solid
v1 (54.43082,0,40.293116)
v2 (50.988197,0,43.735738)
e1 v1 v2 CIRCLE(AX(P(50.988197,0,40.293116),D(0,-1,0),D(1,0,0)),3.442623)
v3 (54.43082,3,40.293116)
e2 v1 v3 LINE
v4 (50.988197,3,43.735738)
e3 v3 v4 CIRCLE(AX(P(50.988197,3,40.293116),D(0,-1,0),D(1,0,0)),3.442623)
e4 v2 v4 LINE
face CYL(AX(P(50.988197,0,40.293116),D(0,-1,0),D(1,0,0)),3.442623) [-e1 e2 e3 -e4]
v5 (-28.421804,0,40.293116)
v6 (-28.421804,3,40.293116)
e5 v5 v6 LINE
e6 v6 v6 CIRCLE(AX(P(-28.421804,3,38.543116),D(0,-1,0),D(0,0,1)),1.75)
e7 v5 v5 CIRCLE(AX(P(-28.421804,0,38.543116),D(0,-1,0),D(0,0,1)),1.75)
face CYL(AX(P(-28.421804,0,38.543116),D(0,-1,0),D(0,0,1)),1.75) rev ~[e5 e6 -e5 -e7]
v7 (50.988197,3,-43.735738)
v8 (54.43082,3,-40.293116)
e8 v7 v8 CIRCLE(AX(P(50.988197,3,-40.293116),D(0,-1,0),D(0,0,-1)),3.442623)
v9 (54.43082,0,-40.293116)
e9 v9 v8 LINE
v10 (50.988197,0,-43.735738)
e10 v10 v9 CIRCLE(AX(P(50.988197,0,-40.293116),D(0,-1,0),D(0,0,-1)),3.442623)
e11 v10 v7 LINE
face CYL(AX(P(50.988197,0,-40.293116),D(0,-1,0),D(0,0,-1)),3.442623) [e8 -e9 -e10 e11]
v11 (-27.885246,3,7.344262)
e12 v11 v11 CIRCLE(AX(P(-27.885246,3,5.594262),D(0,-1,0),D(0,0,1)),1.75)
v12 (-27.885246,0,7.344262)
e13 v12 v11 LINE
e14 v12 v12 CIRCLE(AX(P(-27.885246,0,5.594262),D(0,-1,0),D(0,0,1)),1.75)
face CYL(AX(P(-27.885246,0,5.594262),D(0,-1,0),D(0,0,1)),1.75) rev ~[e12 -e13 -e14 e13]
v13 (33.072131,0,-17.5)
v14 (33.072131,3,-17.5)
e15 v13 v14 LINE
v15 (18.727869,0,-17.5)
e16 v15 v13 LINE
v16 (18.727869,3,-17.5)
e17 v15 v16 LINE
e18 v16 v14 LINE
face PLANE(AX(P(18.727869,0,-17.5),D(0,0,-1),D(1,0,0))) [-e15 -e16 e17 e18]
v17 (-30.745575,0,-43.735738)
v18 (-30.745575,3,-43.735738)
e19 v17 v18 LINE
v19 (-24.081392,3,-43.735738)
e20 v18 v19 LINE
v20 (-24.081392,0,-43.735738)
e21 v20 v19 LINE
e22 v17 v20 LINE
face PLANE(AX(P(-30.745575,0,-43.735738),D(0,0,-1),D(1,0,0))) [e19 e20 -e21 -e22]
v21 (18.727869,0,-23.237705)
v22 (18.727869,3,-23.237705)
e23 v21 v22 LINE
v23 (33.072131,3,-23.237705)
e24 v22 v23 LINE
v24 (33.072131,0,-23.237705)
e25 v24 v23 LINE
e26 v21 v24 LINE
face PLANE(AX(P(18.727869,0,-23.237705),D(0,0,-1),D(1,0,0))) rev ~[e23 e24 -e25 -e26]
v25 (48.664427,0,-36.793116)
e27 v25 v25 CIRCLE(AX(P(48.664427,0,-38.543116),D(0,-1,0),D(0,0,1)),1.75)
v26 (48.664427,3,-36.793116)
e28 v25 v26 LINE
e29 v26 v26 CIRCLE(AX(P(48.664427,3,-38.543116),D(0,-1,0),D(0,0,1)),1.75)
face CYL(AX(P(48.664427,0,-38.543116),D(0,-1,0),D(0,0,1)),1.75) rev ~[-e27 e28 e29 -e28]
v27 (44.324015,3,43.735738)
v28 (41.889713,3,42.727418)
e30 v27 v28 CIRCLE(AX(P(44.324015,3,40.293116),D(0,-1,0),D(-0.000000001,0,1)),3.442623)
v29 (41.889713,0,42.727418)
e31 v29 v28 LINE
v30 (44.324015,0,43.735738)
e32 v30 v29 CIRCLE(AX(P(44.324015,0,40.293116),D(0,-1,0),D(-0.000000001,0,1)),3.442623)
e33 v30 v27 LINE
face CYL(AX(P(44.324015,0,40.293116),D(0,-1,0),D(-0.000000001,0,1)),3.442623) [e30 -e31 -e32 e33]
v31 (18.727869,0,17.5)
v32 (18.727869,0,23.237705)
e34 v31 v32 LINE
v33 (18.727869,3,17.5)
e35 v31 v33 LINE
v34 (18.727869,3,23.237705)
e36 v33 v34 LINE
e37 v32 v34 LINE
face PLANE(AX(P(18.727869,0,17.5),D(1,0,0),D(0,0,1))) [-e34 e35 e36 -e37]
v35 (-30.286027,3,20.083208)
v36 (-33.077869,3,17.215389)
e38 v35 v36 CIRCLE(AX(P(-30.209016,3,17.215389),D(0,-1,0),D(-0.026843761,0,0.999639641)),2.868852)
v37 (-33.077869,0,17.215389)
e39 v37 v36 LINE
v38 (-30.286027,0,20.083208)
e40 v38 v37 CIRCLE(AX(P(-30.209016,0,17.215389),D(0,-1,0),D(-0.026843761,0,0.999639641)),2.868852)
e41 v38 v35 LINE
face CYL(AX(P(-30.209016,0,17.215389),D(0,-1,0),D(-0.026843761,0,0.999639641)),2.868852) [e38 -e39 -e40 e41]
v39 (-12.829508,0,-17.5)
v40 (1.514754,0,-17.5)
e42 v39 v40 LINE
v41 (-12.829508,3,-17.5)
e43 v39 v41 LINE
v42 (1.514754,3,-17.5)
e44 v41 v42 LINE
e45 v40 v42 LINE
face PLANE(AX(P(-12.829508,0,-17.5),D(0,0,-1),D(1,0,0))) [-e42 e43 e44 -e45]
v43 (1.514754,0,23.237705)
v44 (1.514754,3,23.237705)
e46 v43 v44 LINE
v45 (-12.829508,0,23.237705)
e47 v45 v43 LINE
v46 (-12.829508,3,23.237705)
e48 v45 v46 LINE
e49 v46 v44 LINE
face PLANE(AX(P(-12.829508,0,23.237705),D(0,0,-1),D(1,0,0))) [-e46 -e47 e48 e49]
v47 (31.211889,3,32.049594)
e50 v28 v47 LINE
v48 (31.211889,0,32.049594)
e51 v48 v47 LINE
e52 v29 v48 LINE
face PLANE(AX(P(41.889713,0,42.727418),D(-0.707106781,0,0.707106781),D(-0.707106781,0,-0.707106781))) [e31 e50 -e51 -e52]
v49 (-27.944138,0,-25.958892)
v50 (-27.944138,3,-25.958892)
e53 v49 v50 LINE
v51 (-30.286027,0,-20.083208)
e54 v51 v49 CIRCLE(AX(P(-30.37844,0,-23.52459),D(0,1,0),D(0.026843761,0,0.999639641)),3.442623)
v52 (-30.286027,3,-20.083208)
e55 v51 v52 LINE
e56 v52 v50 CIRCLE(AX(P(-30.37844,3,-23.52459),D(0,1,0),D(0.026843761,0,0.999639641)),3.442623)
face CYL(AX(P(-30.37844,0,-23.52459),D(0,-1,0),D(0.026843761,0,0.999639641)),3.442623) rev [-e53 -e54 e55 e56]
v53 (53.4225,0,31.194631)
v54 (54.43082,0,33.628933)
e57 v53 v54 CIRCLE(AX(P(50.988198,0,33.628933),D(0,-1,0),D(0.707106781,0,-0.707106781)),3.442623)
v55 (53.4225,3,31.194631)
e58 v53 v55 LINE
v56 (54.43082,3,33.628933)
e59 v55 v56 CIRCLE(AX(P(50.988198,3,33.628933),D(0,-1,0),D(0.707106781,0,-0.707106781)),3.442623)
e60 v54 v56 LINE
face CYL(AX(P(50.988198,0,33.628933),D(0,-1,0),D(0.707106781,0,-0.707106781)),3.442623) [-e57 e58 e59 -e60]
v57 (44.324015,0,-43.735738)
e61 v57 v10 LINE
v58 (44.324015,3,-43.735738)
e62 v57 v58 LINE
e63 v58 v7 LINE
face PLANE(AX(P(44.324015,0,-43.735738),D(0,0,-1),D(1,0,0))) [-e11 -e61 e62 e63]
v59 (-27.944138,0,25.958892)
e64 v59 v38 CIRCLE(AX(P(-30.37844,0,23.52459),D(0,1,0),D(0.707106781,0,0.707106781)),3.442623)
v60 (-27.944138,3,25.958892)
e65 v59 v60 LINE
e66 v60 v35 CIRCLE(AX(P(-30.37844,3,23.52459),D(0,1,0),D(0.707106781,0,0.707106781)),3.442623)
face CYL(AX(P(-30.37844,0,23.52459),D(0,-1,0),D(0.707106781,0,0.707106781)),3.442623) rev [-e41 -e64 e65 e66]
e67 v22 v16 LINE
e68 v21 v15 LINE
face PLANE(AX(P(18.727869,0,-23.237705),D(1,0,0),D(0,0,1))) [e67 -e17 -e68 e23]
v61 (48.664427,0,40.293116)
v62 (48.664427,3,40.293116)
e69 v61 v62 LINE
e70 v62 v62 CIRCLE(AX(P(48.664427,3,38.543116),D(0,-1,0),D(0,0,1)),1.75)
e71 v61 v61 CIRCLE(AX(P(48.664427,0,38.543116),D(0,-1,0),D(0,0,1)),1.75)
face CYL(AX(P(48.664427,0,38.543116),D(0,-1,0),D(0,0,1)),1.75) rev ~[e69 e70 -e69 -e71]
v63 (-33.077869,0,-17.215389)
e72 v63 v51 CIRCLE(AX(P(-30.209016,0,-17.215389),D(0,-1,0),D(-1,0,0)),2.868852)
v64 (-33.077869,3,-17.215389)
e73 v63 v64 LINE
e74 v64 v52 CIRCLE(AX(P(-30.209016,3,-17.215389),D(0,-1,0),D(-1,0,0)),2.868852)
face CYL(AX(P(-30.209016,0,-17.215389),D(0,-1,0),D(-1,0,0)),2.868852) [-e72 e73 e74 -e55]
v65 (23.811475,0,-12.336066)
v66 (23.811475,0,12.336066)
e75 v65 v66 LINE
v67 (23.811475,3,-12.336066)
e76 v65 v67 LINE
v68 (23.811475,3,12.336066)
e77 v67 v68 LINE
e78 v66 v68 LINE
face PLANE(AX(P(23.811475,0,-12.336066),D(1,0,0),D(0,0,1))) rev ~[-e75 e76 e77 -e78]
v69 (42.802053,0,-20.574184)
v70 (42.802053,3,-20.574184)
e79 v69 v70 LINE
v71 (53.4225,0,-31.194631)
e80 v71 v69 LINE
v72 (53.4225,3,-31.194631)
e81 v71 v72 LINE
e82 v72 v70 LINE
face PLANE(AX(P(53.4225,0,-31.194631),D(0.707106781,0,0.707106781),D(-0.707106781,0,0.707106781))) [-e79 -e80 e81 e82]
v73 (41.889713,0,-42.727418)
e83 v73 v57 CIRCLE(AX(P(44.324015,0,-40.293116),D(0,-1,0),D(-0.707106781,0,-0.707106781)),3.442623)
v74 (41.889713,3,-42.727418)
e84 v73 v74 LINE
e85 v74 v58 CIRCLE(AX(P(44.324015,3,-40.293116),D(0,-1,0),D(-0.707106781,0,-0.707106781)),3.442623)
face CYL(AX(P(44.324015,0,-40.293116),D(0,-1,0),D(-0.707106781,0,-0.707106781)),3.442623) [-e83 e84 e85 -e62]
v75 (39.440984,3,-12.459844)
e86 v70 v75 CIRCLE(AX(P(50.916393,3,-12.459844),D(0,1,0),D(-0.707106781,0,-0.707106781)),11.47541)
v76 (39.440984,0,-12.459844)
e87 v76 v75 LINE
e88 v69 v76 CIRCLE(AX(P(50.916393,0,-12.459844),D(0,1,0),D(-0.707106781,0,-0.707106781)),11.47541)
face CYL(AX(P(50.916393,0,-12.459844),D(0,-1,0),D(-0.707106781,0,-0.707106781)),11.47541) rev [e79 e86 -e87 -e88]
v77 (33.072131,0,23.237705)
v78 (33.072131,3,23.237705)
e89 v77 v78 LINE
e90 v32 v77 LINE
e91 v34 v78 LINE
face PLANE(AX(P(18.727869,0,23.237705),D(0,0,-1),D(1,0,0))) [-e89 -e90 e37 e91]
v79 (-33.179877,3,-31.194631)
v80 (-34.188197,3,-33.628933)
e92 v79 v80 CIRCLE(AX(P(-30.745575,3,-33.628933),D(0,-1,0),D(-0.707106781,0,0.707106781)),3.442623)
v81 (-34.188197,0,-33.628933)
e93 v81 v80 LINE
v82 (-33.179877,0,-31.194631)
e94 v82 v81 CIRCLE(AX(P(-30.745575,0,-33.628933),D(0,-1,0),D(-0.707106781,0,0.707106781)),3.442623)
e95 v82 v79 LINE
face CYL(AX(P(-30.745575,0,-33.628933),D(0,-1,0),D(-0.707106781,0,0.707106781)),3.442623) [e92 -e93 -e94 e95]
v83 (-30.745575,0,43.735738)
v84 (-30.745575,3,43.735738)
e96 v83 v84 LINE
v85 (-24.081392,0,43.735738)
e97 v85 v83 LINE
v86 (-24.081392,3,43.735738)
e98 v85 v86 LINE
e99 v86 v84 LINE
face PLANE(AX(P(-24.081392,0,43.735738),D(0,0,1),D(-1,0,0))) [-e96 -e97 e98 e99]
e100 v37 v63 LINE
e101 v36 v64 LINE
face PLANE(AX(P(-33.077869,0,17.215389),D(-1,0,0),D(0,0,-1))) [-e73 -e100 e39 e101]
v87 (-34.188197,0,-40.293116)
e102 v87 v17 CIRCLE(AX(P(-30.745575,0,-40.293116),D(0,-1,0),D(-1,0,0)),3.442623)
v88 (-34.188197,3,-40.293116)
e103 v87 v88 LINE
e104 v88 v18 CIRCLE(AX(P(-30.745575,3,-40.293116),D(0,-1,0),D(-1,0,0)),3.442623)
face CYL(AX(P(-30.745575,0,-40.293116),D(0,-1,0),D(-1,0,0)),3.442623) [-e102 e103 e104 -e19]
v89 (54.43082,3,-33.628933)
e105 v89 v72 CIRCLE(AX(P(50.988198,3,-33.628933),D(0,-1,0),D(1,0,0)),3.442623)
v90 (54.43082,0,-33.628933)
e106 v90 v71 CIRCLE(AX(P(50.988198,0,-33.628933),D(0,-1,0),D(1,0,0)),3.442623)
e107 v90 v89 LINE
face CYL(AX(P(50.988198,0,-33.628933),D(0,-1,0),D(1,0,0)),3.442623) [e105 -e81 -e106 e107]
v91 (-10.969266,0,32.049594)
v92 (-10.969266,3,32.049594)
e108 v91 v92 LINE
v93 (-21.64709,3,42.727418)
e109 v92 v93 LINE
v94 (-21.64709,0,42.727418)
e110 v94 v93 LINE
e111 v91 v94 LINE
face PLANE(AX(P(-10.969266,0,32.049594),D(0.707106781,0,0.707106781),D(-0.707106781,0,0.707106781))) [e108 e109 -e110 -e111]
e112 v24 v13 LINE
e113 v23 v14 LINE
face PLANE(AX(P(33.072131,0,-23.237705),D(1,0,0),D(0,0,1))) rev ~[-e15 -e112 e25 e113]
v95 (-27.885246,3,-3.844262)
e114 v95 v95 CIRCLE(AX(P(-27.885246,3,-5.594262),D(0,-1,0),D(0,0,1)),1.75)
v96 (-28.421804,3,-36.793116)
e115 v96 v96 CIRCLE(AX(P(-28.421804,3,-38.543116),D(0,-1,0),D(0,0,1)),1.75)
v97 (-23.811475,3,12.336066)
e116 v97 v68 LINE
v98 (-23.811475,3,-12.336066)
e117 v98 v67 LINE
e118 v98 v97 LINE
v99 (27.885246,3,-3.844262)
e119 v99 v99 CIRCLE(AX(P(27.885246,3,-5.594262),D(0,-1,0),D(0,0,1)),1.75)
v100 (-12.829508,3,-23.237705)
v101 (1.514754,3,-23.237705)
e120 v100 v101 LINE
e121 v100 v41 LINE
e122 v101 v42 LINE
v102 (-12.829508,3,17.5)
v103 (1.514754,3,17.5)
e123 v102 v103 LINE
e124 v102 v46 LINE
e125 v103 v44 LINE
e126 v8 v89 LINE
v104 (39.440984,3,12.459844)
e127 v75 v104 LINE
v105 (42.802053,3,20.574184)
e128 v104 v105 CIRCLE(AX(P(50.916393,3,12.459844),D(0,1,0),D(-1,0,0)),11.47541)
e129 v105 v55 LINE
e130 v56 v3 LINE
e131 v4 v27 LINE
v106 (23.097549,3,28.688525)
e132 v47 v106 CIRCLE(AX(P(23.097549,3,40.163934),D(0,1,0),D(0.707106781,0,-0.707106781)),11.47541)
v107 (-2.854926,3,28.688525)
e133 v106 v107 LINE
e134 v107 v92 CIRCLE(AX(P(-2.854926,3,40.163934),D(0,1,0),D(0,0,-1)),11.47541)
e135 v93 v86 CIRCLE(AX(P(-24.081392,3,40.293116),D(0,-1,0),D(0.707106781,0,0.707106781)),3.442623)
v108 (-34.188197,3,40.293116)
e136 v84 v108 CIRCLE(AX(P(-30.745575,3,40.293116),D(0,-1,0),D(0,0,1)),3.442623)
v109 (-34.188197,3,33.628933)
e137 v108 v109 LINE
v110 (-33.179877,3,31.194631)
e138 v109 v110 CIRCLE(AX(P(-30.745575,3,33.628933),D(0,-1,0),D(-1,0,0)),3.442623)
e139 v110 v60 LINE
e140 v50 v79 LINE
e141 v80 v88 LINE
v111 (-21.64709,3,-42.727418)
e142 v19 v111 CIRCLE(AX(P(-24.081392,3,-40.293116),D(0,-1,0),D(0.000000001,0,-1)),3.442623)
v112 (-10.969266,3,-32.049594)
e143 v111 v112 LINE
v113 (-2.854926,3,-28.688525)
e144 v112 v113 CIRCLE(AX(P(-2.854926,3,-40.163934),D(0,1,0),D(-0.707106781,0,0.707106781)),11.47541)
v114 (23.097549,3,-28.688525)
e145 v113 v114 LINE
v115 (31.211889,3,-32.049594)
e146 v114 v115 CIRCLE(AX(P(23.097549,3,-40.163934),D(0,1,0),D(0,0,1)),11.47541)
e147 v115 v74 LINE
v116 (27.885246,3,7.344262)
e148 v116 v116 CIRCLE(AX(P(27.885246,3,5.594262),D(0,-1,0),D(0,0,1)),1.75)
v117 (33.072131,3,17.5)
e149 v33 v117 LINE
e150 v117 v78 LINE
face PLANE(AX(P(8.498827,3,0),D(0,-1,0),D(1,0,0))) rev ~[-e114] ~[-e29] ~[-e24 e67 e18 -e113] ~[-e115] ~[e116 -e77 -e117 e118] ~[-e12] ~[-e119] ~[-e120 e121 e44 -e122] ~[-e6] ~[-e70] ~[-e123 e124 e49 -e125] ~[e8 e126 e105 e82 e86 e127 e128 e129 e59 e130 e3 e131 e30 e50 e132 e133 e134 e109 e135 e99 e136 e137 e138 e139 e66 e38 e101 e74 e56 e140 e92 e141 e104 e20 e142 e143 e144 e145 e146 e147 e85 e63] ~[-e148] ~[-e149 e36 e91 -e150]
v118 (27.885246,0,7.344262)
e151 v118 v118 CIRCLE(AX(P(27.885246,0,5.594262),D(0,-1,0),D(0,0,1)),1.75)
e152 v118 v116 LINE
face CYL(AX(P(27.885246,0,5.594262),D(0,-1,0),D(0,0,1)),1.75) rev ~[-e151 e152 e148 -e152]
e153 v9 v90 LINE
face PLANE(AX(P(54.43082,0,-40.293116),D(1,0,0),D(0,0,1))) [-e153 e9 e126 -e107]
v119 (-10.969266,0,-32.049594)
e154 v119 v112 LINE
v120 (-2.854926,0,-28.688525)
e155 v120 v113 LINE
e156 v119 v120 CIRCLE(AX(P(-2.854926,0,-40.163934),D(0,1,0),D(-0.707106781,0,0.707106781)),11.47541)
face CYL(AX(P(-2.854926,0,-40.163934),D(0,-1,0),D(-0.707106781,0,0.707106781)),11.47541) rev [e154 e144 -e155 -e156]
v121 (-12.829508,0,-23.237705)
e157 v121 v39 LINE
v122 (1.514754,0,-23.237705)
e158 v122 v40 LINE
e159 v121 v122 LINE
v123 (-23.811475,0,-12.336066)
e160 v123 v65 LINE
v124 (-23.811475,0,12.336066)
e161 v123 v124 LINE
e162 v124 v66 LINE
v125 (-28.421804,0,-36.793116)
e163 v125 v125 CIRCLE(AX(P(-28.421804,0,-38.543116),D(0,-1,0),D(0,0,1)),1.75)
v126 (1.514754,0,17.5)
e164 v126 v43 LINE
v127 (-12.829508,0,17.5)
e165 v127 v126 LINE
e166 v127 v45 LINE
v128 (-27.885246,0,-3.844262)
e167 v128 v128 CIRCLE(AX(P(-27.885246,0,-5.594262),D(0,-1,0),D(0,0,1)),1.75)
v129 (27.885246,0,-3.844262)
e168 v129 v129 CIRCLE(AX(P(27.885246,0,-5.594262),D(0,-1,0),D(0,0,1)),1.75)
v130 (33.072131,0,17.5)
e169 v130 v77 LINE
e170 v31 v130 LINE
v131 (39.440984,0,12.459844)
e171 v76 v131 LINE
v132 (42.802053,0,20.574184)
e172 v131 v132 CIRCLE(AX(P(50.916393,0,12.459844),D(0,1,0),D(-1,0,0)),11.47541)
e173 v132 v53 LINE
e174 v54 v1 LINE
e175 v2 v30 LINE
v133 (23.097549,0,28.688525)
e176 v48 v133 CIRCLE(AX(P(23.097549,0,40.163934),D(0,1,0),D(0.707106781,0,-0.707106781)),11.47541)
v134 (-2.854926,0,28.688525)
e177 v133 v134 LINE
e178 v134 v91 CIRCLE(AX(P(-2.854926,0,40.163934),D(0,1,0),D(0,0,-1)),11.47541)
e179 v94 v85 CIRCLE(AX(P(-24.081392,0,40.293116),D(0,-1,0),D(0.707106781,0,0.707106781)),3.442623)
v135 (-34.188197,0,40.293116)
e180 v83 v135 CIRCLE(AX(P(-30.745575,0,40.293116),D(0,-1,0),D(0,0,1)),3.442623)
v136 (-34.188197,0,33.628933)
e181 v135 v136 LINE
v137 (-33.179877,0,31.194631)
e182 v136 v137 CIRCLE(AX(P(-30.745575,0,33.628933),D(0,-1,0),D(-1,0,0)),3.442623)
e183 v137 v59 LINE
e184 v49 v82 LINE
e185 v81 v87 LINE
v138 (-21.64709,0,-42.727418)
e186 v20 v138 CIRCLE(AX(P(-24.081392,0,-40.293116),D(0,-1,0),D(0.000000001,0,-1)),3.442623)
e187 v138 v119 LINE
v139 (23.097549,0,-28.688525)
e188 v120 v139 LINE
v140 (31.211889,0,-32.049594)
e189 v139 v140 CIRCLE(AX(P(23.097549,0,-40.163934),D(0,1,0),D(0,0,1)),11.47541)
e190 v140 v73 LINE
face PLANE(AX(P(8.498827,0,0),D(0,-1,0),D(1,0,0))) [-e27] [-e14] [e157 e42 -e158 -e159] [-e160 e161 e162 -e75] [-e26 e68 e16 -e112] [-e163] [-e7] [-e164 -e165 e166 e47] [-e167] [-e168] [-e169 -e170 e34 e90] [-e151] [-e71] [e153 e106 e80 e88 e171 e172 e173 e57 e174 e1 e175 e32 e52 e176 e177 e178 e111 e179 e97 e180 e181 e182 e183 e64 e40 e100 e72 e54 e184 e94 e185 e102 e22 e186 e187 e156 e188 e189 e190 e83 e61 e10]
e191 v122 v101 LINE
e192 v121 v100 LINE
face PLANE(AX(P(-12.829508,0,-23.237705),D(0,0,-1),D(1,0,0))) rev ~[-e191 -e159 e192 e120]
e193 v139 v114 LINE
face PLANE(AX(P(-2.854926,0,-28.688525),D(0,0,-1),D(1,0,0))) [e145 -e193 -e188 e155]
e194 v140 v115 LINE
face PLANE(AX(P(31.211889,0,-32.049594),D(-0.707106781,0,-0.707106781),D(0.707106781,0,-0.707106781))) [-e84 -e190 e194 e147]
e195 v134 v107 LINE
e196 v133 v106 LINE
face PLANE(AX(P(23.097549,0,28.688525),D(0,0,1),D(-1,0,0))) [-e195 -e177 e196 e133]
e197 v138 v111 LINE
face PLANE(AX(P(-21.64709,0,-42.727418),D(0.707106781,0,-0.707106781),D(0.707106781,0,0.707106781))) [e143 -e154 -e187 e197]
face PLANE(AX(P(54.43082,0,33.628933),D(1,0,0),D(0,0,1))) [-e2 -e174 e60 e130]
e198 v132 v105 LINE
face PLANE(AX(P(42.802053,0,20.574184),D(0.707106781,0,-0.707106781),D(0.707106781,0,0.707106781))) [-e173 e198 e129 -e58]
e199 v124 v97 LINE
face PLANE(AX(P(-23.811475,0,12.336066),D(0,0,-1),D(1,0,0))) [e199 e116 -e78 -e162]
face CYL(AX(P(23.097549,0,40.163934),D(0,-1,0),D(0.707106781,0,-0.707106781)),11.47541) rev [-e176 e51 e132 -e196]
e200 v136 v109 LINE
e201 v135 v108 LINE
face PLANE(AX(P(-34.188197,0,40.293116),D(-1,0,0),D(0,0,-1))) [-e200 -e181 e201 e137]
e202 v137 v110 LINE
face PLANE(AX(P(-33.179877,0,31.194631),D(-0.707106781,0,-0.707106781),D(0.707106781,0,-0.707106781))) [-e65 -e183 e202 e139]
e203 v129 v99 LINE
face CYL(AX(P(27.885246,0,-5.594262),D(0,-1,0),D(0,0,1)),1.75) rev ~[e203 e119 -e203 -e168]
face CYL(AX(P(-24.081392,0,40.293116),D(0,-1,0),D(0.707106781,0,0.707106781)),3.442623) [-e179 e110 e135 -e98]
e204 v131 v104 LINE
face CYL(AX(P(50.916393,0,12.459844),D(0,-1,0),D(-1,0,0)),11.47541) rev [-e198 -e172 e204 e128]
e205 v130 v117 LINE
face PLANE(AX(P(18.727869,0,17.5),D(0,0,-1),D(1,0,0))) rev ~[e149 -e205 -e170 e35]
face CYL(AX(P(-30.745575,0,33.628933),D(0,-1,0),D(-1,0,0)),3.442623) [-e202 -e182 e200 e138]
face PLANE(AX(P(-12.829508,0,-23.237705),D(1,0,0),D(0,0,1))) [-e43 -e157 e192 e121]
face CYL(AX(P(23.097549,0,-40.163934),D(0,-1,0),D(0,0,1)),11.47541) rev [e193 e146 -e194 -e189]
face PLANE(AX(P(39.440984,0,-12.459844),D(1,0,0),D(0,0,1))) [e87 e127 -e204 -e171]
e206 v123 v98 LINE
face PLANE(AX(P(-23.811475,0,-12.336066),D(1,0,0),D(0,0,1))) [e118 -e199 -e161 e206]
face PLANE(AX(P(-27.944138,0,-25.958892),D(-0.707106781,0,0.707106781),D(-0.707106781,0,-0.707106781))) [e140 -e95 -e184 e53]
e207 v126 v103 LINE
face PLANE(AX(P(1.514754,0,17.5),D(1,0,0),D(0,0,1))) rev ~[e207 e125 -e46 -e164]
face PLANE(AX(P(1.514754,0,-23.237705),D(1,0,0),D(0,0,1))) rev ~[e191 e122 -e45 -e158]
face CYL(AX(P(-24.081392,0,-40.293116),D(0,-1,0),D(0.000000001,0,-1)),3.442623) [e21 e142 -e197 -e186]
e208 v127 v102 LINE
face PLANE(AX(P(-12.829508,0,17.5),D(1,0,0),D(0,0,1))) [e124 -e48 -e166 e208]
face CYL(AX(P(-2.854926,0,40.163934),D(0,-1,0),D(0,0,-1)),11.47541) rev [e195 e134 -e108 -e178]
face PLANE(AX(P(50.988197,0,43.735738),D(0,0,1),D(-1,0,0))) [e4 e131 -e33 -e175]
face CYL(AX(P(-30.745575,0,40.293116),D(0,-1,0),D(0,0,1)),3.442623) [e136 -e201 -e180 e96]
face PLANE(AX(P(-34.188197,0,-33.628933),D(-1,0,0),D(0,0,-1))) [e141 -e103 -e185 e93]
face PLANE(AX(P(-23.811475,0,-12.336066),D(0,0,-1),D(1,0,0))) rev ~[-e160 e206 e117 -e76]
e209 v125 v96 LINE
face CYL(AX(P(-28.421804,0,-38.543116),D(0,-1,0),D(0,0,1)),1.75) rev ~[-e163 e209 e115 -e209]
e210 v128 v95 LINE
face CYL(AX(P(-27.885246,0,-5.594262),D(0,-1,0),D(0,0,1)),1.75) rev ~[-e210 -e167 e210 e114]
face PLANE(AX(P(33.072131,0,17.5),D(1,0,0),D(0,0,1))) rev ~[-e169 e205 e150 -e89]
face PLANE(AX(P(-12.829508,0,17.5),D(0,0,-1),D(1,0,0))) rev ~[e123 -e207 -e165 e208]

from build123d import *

# Parameters (mm, degrees)
SKETCH_1_R      = 1.75
SKETCH_1_W      = 14.344262296
SKETCH_1_H      = 5.737704918
SKETCH_1_W_2    = 14.344262295
SKETCH_1_W_3    = 47.62295082
SKETCH_1_H_2    = 24.672131148
EXTRUDE_1_DEPTH = 3


with BuildPart() as part:
    # 草图1 → 凸台-拉伸1 (new body)
    with BuildSketch(Plane.XZ):
        with BuildLine():
            Line((-27.944138099, -25.958892198), (-33.179876582, -31.19463068))
            ThreePointArc((-33.179876582, -31.19463068), (-33.926143431, -32.311497947), (-34.188197499, -33.628932714))
            Line((-34.188197499, -33.628932714), (-34.188197499, -40.293115532))
            ThreePointArc((-34.188197499, -40.293115532), (-33.179876582, -42.727417565), (-30.745574548, -43.735738483))
            Line((-30.745574548, -43.735738483), (-24.08139173, -43.735738483))
            ThreePointArc((-24.08139173, -43.735738483), (-22.763956963, -43.473684414), (-21.647089697, -42.727417565))
            Line((-21.647089697, -42.727417565), (-10.969266445, -32.049594314))
            ThreePointArc((-10.969266445, -32.049594314), (-7.246375557, -29.562038152), (-2.854926333, -28.68852459))
            Line((-2.854926333, -28.68852459), (23.097549284, -28.68852459))
            ThreePointArc((23.097549284, -28.68852459), (27.488998508, -29.562038152), (31.211889396, -32.049594314))
            Line((31.211889396, -32.049594314), (41.889712647, -42.727417565))
            ThreePointArc((41.889712647, -42.727417565), (43.006579914, -43.473684414), (44.324014681, -43.735738483))
            Line((44.324014681, -43.735738483), (50.988197499, -43.735738483))
            ThreePointArc((50.988197499, -43.735738483), (53.422499533, -42.727417565), (54.43082045, -40.293115532))
            Line((54.43082045, -40.293115532), (54.43082045, -33.628932714))
            ThreePointArc((54.43082045, -33.628932714), (54.168766382, -32.311497947), (53.422499533, -31.19463068))
            Line((53.422499533, -31.19463068), (42.802053331, -20.574184478))
            ThreePointArc((42.802053331, -20.574184478), (40.314497168, -16.85129359), (39.440983607, -12.459844366))
            Line((39.440983607, -12.459844366), (39.440983607, 12.459844366))
            ThreePointArc((39.440983607, 12.459844366), (40.314497168, 16.85129359), (42.802053331, 20.574184478))
            Line((42.802053331, 20.574184478), (53.422499533, 31.19463068))
            ThreePointArc((53.422499533, 31.19463068), (54.168766382, 32.311497947), (54.43082045, 33.628932714))
            Line((54.43082045, 33.628932714), (54.43082045, 40.293115532))
            ThreePointArc((54.43082045, 40.293115532), (53.422499533, 42.727417565), (50.988197499, 43.735738483))
            Line((50.988197499, 43.735738483), (44.324014681, 43.735738483))
            ThreePointArc((44.324014681, 43.735738483), (43.006579914, 43.473684414), (41.889712647, 42.727417565))
            Line((41.889712647, 42.727417565), (31.211889396, 32.049594314))
            ThreePointArc((31.211889396, 32.049594314), (27.488998508, 29.562038152), (23.097549284, 28.68852459))
            Line((23.097549284, 28.68852459), (-2.854926333, 28.68852459))
            ThreePointArc((-2.854926333, 28.68852459), (-7.246375557, 29.562038152), (-10.969266445, 32.049594314))
            Line((-10.969266445, 32.049594314), (-21.647089697, 42.727417565))
            ThreePointArc((-21.647089697, 42.727417565), (-22.763956963, 43.473684414), (-24.08139173, 43.735738483))
            Line((-24.08139173, 43.735738483), (-30.745574548, 43.735738483))
            ThreePointArc((-30.745574548, 43.735738483), (-33.179876582, 42.727417565), (-34.188197499, 40.293115532))
            Line((-34.188197499, 40.293115532), (-34.188197499, 33.628932714))
            ThreePointArc((-34.188197499, 33.628932714), (-33.926143431, 32.311497947), (-33.179876582, 31.19463068))
            Line((-33.179876582, 31.19463068), (-27.944138099, 25.958892198))
            ThreePointArc((-27.944138099, 25.958892198), (-27.180473754, 22.249967152), (-30.286027184, 20.083207792))
            ThreePointArc((-30.286027184, 20.083207792), (-32.264648538, 19.216561535), (-33.077868852, 17.215389149))
            Line((-33.077868852, 17.215389149), (-33.077868852, -17.215389149))
            ThreePointArc((-33.077868852, -17.215389149), (-32.264648538, -19.216561535), (-30.286027184, -20.083207792))
            ThreePointArc((-30.286027184, -20.083207792), (-27.180473754, -22.249967152), (-27.944138099, -25.958892198))
        make_face()
        with Locations(Location((48.664427007, 38.543115532, 0), (0, 0, 90))):
            Circle(SKETCH_1_R, mode=Mode.SUBTRACT)
        with Locations(Location((-28.421804056, -38.543115532, 0), (0, 0, 90))):
            Circle(SKETCH_1_R, mode=Mode.SUBTRACT)
        with Locations(Location((27.885245902, 5.594262295, 0), (0, 0, 90))):
            Circle(SKETCH_1_R, mode=Mode.SUBTRACT)
        with Locations(Location((-27.885245902, 5.594262295, 0), (0, 0, 90))):
            Circle(SKETCH_1_R, mode=Mode.SUBTRACT)
        with Locations(Location((-27.885245902, -5.594262295, 0), (0, 0, 90))):
            Circle(SKETCH_1_R, mode=Mode.SUBTRACT)
        with Locations(Location((27.885245902, -5.594262295, 0), (0, 0, 90))):
            Circle(SKETCH_1_R, mode=Mode.SUBTRACT)
        with Locations(Location((48.664427007, -38.543115532, 0), (0, 0, 90))):
            Circle(SKETCH_1_R, mode=Mode.SUBTRACT)
        with Locations(Location((-28.421804056, 38.543115532, 0), (0, 0, 90))):
            Circle(SKETCH_1_R, mode=Mode.SUBTRACT)
        with Locations((25.9, -20.368852459)):
            Rectangle(SKETCH_1_W, SKETCH_1_H, mode=Mode.SUBTRACT)
        with Locations((-5.65737705, 20.368852459)):
            Rectangle(SKETCH_1_W_2, SKETCH_1_H, mode=Mode.SUBTRACT)
        Rectangle(SKETCH_1_W_3, SKETCH_1_H_2, mode=Mode.SUBTRACT)
        with Locations((25.9, 20.368852459)):
            Rectangle(SKETCH_1_W, SKETCH_1_H, mode=Mode.SUBTRACT)
        with Locations((-5.65737705, -20.368852459)):
            Rectangle(SKETCH_1_W_2, SKETCH_1_H, mode=Mode.SUBTRACT)
    extrude(amount=-EXTRUDE_1_DEPTH)


solid = part.part
